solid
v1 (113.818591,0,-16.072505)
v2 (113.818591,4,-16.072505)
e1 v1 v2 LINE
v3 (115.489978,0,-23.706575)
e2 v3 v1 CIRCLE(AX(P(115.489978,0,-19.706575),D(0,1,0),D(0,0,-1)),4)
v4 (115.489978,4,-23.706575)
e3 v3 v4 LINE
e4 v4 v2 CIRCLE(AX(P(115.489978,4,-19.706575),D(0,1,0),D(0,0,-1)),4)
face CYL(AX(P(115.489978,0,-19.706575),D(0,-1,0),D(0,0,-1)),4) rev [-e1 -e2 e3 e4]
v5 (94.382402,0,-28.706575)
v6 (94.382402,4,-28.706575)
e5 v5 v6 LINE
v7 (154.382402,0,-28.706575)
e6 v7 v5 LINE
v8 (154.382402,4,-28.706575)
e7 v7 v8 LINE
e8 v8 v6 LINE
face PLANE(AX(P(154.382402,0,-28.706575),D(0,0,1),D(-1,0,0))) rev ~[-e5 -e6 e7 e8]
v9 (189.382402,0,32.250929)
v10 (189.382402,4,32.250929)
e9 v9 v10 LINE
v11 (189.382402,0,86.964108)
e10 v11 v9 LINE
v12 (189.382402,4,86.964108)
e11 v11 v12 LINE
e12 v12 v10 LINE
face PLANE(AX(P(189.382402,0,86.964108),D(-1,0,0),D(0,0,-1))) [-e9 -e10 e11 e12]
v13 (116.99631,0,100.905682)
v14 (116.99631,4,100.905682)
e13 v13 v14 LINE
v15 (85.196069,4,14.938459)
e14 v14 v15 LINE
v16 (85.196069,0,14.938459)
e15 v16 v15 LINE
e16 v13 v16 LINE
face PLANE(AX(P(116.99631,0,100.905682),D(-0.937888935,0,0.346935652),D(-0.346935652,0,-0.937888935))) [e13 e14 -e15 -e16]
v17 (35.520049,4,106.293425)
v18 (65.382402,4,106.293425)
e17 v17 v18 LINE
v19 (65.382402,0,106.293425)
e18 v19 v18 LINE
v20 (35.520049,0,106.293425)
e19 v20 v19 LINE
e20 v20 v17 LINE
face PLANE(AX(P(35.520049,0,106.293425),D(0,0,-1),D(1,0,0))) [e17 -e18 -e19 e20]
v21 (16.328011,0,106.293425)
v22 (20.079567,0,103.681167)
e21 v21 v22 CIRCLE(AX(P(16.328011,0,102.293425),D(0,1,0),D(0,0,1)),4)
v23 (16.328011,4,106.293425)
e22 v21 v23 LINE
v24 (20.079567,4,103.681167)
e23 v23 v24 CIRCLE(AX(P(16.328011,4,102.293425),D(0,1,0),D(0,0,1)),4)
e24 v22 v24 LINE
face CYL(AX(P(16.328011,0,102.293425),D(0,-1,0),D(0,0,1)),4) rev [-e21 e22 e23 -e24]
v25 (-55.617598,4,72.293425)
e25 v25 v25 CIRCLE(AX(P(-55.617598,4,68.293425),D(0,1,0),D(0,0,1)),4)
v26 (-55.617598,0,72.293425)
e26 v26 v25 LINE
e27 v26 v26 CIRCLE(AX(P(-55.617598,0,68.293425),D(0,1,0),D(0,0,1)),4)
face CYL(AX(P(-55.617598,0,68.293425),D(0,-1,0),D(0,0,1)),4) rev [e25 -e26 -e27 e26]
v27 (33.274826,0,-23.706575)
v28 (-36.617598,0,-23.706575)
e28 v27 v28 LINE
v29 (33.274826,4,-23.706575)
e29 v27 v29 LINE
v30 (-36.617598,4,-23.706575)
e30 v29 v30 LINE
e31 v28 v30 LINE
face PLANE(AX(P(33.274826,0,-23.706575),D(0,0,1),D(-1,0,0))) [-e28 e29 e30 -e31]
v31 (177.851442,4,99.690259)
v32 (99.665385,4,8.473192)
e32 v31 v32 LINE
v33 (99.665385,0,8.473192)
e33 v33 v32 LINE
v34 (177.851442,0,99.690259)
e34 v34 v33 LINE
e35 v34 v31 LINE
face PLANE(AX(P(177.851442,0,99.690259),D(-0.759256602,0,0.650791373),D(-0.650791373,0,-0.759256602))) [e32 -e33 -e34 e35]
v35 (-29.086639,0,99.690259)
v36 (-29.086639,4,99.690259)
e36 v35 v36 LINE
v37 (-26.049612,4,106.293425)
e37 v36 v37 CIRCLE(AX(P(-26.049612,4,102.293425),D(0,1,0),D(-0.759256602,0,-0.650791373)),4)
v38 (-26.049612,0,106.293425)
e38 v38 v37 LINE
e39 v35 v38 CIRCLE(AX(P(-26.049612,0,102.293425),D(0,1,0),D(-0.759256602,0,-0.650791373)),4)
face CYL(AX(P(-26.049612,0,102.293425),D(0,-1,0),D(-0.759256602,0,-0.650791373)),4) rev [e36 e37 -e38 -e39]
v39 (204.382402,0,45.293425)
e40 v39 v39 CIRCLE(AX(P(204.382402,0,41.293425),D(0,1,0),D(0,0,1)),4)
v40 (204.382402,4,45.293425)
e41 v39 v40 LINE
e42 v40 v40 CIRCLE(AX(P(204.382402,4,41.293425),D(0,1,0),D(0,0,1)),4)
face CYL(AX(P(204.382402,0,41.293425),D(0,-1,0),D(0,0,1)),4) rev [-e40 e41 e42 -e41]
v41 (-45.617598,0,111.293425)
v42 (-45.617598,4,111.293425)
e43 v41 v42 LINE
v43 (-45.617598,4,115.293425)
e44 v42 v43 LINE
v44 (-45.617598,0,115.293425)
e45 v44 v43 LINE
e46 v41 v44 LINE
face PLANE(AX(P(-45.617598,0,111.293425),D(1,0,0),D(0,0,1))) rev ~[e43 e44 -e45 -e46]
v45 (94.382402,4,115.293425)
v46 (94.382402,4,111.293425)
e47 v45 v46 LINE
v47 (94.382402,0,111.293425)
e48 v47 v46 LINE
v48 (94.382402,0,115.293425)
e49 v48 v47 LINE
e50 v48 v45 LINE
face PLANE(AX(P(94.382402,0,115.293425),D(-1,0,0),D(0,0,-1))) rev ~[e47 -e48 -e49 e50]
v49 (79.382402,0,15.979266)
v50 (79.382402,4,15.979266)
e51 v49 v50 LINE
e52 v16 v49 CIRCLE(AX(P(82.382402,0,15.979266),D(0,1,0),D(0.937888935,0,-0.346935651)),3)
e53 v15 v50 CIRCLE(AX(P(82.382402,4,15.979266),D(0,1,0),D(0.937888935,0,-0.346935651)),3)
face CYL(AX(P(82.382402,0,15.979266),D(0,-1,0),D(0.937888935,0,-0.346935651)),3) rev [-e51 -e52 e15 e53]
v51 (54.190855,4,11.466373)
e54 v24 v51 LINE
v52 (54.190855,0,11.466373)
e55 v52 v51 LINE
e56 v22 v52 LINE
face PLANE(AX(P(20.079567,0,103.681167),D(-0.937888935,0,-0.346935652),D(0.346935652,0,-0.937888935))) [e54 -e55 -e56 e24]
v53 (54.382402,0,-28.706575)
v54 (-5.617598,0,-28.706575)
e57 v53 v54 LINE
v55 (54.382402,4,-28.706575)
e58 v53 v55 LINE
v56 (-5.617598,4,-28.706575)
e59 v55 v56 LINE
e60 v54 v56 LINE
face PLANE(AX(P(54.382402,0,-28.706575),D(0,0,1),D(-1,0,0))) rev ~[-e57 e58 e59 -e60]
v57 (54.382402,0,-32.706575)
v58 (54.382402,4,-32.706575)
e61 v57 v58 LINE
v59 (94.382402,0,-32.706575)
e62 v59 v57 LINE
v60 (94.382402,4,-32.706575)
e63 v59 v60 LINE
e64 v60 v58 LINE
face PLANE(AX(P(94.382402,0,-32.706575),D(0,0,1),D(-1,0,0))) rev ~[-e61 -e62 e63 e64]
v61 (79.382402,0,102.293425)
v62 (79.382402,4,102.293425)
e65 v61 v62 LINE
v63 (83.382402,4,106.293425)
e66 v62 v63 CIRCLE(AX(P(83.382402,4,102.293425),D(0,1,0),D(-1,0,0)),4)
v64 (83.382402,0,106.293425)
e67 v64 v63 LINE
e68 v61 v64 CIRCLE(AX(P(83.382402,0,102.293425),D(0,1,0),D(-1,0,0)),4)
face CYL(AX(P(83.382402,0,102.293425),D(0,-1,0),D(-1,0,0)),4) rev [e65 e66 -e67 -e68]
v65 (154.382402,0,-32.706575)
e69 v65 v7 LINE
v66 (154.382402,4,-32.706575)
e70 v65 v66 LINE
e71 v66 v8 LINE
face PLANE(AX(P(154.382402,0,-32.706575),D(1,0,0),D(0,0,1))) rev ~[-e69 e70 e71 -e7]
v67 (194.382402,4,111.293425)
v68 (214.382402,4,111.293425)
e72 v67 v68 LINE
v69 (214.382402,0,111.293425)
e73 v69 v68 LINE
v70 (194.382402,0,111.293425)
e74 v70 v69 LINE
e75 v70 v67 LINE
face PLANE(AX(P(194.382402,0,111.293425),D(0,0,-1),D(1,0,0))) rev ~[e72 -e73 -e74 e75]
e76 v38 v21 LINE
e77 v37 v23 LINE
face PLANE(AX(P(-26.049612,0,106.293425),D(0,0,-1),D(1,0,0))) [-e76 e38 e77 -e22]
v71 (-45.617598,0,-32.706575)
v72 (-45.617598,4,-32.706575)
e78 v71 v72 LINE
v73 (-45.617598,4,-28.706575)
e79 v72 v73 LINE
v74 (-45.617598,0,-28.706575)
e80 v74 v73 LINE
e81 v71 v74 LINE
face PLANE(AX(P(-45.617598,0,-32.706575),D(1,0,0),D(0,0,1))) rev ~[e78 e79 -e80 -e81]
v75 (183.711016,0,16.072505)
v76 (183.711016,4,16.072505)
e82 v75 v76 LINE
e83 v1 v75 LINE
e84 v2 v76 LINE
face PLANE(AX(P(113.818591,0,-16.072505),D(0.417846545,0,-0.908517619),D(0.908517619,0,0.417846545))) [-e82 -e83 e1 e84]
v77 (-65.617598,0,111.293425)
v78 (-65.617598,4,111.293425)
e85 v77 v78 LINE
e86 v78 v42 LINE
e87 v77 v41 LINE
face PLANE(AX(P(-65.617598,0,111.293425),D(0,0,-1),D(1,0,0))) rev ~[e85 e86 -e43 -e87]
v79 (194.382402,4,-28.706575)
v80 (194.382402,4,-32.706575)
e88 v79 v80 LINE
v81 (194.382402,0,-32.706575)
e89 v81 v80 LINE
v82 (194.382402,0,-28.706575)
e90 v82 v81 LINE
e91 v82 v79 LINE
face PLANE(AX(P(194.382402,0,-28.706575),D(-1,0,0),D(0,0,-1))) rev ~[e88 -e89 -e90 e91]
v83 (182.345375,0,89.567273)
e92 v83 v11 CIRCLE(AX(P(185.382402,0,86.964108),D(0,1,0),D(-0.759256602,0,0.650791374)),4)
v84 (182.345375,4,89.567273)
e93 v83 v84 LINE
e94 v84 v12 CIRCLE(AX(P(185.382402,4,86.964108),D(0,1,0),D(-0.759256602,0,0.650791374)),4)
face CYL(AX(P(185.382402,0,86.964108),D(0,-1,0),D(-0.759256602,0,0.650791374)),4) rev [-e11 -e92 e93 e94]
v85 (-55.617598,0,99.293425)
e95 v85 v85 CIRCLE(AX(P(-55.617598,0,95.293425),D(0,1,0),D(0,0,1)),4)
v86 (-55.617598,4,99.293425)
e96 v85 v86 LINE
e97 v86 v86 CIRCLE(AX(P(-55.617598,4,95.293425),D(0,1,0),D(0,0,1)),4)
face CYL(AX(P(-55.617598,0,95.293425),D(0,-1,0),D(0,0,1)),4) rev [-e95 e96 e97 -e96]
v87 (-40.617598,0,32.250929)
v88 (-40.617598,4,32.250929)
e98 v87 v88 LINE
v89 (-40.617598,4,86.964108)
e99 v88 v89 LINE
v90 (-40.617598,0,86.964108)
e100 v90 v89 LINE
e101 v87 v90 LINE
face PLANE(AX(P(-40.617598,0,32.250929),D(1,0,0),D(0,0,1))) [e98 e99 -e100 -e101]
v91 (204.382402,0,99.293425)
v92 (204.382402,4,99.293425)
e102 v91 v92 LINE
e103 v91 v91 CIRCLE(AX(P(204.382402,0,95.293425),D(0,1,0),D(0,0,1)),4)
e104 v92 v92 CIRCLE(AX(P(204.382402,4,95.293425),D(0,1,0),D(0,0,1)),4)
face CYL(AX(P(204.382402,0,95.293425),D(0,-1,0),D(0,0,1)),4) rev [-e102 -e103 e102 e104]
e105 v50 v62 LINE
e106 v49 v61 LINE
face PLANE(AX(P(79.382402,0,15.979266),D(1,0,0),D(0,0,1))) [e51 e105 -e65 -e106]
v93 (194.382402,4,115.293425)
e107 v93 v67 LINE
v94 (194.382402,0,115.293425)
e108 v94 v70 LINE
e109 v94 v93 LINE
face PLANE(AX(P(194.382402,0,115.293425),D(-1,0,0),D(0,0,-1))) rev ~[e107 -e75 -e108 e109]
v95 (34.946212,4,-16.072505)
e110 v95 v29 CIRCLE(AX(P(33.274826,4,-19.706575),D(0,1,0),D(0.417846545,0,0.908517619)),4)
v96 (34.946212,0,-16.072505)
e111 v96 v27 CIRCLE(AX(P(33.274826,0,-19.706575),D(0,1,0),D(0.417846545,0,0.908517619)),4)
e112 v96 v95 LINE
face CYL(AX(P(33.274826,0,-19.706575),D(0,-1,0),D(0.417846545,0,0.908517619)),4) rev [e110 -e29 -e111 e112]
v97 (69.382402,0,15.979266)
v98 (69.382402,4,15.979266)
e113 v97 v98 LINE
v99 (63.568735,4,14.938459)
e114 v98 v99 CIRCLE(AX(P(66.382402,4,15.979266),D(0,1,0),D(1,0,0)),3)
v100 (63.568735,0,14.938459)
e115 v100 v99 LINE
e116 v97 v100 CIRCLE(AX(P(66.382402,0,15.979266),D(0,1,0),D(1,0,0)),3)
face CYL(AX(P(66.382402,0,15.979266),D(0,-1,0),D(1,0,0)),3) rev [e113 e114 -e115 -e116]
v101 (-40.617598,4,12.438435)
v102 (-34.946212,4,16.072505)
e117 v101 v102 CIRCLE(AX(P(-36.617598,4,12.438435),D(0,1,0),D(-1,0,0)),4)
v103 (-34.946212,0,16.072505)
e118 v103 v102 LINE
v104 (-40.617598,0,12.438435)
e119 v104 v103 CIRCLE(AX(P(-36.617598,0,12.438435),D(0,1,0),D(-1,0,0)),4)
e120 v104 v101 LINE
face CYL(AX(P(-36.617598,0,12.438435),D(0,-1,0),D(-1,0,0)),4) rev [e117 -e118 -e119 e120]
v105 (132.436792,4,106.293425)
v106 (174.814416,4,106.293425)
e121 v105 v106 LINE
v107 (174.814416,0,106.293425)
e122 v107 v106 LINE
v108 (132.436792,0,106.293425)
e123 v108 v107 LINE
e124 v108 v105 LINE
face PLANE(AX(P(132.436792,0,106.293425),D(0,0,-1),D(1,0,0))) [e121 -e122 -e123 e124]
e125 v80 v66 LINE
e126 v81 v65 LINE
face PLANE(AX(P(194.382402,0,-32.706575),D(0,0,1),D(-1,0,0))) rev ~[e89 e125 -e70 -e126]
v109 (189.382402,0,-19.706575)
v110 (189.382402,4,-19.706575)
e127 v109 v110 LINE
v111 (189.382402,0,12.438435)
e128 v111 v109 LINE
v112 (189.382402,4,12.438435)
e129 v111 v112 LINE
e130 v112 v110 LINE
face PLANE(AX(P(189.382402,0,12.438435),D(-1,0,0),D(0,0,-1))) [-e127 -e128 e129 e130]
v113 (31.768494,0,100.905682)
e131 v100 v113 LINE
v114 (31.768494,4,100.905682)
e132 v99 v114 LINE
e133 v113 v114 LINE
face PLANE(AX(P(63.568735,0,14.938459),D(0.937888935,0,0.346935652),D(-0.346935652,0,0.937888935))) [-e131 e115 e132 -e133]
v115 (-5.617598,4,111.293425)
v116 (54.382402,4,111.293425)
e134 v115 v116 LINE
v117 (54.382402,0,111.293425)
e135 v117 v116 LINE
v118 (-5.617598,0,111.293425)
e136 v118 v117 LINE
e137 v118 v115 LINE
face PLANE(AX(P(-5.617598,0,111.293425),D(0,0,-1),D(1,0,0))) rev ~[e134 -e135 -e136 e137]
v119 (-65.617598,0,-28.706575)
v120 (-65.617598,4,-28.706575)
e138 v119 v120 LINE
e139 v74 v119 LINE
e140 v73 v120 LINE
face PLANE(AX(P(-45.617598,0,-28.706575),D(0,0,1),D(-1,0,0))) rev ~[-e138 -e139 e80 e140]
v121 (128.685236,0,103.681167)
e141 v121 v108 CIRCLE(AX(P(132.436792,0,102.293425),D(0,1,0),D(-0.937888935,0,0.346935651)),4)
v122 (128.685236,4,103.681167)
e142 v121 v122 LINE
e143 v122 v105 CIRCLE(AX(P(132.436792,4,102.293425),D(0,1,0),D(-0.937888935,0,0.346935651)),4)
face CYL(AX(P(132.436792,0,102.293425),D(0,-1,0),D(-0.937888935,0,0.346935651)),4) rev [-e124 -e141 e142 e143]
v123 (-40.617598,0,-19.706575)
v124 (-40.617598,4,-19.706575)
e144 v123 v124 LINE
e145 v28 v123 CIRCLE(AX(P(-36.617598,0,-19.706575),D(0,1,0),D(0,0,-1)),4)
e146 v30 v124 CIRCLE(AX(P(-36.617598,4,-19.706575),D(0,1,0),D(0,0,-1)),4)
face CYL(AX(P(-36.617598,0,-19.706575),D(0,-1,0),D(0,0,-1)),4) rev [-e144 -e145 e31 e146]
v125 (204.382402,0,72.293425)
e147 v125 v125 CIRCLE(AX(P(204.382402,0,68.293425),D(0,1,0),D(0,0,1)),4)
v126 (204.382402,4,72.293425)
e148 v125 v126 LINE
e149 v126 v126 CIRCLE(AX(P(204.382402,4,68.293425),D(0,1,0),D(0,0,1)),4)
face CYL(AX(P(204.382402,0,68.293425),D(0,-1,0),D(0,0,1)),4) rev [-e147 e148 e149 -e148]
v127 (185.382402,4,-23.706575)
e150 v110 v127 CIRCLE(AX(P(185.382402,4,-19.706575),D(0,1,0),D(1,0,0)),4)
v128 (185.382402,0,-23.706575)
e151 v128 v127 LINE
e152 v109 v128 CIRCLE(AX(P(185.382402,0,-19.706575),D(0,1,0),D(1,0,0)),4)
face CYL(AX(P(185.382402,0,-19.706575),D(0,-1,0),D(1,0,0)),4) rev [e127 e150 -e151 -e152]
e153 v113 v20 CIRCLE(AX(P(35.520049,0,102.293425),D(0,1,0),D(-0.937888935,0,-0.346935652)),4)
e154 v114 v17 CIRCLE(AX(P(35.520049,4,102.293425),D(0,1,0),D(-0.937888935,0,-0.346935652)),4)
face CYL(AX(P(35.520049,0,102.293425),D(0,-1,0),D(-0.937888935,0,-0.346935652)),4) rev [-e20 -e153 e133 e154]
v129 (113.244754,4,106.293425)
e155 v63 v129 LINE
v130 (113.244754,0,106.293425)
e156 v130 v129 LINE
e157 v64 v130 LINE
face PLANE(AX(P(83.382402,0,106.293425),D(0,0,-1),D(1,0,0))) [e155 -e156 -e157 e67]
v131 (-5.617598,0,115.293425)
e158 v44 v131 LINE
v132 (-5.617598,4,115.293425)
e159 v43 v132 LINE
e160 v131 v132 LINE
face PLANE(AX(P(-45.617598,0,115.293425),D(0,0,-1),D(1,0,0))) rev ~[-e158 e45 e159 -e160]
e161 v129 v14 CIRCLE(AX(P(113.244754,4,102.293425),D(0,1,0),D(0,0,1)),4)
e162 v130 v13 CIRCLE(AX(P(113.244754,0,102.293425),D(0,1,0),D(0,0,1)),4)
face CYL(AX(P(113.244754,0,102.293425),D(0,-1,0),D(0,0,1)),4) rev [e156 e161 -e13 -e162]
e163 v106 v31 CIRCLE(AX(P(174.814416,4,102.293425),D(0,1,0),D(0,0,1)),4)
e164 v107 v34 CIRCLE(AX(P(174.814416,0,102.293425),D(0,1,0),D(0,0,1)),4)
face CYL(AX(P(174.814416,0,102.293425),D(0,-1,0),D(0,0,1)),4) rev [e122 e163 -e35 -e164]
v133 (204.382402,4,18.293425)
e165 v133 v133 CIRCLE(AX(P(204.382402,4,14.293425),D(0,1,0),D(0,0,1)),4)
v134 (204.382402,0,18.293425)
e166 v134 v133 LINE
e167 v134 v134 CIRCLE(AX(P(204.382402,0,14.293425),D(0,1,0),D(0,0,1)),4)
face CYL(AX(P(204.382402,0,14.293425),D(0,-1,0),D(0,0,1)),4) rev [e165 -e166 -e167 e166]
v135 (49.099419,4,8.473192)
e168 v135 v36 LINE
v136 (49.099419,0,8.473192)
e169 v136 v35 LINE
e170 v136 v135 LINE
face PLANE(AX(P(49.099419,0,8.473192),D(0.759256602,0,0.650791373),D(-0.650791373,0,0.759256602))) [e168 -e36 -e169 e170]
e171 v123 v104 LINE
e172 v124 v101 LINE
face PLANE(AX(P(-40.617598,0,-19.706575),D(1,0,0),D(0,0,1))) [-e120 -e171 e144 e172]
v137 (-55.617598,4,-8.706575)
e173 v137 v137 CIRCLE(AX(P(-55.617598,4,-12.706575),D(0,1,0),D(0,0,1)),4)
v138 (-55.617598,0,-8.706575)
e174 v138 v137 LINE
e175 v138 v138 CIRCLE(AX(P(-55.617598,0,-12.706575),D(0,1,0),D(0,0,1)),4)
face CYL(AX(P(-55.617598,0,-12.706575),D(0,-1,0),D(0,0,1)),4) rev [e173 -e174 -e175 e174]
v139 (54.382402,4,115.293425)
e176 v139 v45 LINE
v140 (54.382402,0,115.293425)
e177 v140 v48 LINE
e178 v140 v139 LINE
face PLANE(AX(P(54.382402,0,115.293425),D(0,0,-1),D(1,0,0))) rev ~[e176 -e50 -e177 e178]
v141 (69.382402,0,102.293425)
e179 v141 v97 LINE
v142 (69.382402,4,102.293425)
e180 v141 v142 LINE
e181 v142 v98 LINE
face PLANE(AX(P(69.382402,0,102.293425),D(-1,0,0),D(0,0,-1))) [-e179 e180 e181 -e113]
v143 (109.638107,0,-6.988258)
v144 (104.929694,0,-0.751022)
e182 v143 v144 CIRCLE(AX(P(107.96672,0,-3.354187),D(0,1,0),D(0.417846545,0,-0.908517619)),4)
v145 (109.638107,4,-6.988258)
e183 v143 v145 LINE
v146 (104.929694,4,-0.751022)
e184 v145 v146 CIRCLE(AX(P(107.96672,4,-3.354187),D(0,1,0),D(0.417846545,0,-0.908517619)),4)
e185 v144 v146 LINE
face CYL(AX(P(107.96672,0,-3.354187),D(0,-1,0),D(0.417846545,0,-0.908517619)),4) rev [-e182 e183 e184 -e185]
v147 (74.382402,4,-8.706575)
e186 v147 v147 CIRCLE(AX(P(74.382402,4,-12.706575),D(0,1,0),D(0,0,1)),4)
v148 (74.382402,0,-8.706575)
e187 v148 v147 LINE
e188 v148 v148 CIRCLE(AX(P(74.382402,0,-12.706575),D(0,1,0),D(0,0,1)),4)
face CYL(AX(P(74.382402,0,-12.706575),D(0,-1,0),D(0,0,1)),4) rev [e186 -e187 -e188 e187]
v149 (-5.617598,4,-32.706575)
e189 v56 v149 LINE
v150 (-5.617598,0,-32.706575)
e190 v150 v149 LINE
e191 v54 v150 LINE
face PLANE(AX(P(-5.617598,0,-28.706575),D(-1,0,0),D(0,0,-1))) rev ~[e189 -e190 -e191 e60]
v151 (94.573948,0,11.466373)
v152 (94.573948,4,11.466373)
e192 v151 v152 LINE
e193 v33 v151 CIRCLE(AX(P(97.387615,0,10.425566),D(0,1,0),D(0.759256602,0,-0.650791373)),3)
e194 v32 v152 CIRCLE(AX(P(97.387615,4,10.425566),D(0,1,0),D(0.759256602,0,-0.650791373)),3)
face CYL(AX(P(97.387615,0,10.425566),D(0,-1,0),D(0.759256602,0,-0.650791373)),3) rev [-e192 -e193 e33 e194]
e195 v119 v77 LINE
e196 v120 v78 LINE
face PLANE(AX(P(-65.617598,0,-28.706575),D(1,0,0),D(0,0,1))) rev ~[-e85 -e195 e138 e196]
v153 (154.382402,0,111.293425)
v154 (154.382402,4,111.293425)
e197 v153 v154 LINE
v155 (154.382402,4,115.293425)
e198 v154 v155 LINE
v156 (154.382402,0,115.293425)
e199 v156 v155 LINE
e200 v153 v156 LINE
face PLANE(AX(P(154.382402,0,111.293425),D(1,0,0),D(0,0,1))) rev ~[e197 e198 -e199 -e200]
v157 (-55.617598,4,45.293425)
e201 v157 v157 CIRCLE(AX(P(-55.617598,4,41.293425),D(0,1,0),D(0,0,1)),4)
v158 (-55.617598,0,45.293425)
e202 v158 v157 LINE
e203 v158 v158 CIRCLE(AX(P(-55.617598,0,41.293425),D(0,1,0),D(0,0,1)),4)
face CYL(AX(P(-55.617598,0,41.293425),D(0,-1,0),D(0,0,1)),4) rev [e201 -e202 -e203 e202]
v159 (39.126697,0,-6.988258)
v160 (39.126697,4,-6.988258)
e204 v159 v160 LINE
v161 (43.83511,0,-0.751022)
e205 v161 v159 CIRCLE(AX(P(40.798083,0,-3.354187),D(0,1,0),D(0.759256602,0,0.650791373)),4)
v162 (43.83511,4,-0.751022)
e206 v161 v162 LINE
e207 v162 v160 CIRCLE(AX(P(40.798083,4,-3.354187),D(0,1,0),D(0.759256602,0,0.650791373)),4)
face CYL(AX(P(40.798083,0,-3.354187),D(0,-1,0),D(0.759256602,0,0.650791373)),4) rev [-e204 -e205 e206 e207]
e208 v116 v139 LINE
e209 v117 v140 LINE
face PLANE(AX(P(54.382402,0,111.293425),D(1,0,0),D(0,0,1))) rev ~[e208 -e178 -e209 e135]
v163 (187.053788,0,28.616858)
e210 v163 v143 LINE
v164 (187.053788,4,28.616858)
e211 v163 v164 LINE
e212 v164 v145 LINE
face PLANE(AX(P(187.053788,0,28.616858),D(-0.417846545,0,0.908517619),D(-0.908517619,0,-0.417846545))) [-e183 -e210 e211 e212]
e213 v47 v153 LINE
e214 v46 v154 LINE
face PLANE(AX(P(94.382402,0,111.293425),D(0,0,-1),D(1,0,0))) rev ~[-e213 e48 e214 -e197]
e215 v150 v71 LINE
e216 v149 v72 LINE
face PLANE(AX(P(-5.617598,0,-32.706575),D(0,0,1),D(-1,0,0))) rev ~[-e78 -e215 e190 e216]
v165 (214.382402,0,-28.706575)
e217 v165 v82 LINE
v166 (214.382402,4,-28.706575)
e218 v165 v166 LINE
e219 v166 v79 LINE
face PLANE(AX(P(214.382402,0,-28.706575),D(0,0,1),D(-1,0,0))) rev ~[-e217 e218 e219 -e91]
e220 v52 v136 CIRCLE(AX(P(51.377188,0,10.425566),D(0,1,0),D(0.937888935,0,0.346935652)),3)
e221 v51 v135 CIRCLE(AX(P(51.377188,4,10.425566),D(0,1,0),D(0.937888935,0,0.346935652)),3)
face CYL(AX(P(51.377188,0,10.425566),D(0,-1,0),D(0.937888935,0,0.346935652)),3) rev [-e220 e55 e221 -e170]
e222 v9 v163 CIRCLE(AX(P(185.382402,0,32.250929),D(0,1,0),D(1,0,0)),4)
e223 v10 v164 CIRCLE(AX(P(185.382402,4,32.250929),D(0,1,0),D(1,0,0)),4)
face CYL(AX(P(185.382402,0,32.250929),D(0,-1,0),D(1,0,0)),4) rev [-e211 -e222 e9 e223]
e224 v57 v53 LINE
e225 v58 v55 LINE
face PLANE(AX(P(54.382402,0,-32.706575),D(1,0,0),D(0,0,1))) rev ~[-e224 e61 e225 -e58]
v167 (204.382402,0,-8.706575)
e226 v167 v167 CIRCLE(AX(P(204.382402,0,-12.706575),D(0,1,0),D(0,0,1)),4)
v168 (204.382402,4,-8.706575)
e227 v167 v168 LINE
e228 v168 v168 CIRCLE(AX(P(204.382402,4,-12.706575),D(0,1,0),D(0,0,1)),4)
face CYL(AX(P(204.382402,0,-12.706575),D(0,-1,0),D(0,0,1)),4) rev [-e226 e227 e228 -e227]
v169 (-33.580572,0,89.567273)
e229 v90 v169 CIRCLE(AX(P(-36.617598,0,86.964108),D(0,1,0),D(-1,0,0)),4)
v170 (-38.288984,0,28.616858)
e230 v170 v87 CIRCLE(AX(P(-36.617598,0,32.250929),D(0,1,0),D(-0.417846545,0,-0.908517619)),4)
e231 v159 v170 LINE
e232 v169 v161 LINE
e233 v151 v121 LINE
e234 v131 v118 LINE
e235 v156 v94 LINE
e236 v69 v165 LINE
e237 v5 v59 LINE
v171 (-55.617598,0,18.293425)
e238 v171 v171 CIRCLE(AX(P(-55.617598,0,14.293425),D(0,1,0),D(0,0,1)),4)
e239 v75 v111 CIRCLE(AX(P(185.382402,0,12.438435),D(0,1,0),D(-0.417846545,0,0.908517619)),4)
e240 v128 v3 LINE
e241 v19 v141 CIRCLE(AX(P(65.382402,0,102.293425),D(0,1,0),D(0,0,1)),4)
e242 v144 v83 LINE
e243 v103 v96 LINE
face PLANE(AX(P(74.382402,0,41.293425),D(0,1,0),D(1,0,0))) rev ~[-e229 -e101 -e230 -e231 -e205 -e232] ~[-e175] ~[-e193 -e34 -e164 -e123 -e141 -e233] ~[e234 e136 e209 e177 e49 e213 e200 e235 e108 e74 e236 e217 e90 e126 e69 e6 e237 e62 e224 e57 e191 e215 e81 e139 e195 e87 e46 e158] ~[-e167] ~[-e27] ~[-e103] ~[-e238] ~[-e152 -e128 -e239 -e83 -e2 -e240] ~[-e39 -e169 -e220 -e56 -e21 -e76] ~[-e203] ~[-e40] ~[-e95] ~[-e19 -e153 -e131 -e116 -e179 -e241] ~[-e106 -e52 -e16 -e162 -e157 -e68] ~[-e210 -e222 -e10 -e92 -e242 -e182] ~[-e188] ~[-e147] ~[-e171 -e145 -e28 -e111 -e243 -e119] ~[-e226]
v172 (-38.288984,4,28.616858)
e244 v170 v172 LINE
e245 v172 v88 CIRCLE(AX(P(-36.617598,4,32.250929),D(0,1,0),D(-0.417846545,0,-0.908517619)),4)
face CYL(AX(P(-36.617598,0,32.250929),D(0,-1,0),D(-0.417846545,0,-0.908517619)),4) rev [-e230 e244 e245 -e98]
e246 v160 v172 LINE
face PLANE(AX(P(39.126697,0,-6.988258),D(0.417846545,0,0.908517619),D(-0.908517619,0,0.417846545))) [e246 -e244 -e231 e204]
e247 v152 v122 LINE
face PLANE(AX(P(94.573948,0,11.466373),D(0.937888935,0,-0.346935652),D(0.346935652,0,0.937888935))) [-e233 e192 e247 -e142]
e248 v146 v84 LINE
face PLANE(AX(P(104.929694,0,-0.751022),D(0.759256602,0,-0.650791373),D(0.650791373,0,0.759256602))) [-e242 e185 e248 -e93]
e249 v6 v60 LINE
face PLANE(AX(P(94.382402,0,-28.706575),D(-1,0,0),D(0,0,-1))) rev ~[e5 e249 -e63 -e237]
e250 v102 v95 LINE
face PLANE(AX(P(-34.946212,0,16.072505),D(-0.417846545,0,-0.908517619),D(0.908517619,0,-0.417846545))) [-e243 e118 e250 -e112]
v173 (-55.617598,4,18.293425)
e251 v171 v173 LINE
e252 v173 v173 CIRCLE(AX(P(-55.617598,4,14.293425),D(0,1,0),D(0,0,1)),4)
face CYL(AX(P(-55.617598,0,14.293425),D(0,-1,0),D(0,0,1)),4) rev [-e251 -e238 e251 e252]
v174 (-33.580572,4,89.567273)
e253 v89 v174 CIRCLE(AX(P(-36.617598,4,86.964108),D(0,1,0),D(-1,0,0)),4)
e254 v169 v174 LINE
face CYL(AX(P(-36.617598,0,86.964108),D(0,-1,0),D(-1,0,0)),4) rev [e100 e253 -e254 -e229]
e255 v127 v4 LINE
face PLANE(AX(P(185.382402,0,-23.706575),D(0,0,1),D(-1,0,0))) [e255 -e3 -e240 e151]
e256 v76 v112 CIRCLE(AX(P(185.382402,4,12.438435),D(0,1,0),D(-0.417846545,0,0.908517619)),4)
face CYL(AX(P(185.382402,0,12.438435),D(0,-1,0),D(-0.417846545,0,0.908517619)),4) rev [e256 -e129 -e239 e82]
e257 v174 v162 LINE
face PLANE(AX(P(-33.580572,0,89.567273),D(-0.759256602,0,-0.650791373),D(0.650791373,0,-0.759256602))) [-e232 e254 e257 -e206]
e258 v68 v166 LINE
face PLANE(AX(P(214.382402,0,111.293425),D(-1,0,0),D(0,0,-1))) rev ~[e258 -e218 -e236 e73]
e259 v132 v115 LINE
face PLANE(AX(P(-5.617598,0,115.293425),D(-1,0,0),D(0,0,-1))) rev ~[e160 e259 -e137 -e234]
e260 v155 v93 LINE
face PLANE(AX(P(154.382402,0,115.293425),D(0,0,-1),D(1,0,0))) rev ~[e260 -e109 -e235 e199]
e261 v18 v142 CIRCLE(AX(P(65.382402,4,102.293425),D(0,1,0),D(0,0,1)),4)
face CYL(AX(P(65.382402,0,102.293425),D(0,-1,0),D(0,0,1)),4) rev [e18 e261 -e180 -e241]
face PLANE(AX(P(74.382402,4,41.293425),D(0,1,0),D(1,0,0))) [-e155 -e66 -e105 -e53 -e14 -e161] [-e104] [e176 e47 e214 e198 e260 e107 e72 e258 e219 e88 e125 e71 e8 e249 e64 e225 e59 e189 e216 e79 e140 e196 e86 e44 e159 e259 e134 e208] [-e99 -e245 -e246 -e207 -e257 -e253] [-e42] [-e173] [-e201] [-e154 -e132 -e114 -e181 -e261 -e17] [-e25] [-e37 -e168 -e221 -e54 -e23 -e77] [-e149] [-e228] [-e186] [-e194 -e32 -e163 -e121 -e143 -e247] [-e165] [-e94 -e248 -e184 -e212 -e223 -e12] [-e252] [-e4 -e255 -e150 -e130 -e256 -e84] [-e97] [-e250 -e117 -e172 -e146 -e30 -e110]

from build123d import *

# Parameters (mm, degrees)
SKETCH2_R           = 4
BOSS_EXTRUDE1_DEPTH = 4


with BuildPart() as part:
    # Sketch2 → Boss-Extrude1 (new body)
    with BuildSketch(Plane(origin=(0, 0, 0), x_dir=(1, 0, 0), z_dir=(0, 1, 0))):
        Polygon((-65.617598228, 28.706575469), (-65.617598228, -111.293424531), (-45.617598228, -111.293424531), (-45.617598228, -115.293424531), (-5.617598228, -115.293424531), (-5.617598228, -111.293424531), (54.382401772, -111.293424531), (54.382401772, -115.293424531), (94.382401772, -115.293424531), (94.382401772, -111.293424531), (154.382401772, -111.293424531), (154.382401772, -115.293424531), (194.382401772, -115.293424531), (194.382401772, -111.293424531), (214.382401772, -111.293424531), (214.382401772, 28.706575469), (194.382401772, 28.706575469), (194.382401772, 32.706575469), (154.382401772, 32.706575469), (154.382401772, 28.706575469), (94.382401772, 28.706575469), (94.382401772, 32.706575469), (54.382401772, 32.706575469), (54.382401772, 28.706575469), (-5.617598228, 28.706575469), (-5.617598228, 32.706575469), (-45.617598228, 32.706575469), (-45.617598228, 28.706575469), align=None)
        with Locations(Location((-55.617598228, 12.706575469, 0), (0, 0, 270))):
            Circle(SKETCH2_R, mode=Mode.SUBTRACT)
        with Locations(Location((-55.617598228, -14.293424531, 0), (0, 0, 270))):
            Circle(SKETCH2_R, mode=Mode.SUBTRACT)
        with Locations(Location((-55.617598228, -41.293424531, 0), (0, 0, 270))):
            Circle(SKETCH2_R, mode=Mode.SUBTRACT)
        with Locations(Location((-55.617598228, -68.293424531, 0), (0, 0, 270))):
            Circle(SKETCH2_R, mode=Mode.SUBTRACT)
        with Locations(Location((-55.617598228, -95.293424531, 0), (0, 0, 270))):
            Circle(SKETCH2_R, mode=Mode.SUBTRACT)
        with Locations(Location((204.382401772, -95.293424531, 0), (0, 0, 270))):
            Circle(SKETCH2_R, mode=Mode.SUBTRACT)
        with Locations(Location((204.382401772, -68.293424531, 0), (0, 0, 270))):
            Circle(SKETCH2_R, mode=Mode.SUBTRACT)
        with Locations(Location((204.382401772, -41.293424531, 0), (0, 0, 270))):
            Circle(SKETCH2_R, mode=Mode.SUBTRACT)
        with Locations(Location((204.382401772, -14.293424531, 0), (0, 0, 270))):
            Circle(SKETCH2_R, mode=Mode.SUBTRACT)
        with Locations(Location((204.382401772, 12.706575469, 0), (0, 0, 270))):
            Circle(SKETCH2_R, mode=Mode.SUBTRACT)
        with Locations(Location((74.382401772, 12.706575469, 0), (0, 0, 270))):
            Circle(SKETCH2_R, mode=Mode.SUBTRACT)
        with BuildLine():
            Line((39.126697, 6.98825761), (-38.288984409, -28.616858167))
            ThreePointArc((-38.288984409, -28.616858167), (-39.985501487, -30.092867561), (-40.617598228, -32.250928644))
            Line((-40.617598228, -32.250928644), (-40.617598228, -86.964107845))
            ThreePointArc((-40.617598228, -86.964107845), (-38.005383219, -90.715647904), (-33.580571819, -89.567273339))
            Line((-33.580571819, -89.567273339), (43.835109591, 0.751021639))
            ThreePointArc((43.835109591, 0.751021639), (43.990577731, 5.764161935), (39.126697, 6.98825761))
        make_face(mode=Mode.SUBTRACT)
        with BuildLine():
            Line((-40.617598228, 19.706575469), (-40.617598228, -12.438434514))
            ThreePointArc((-40.617598228, -12.438434514), (-38.775659311, -15.806337773), (-34.946212047, -16.072504992))
            Line((-34.946212047, -16.072504992), (34.946212047, 16.072504992))
            ThreePointArc((34.946212047, 16.072504992), (37.182272725, 20.562063076), (33.274825866, 23.706575469))
            Line((33.274825866, 23.706575469), (-36.617598228, 23.706575469))
            ThreePointArc((-36.617598228, 23.706575469), (-39.446025353, 22.535002594), (-40.617598228, 19.706575469))
        make_face(mode=Mode.SUBTRACT)
        with BuildLine():
            Line((-26.049612497, -106.293424531), (16.328011378, -106.293424531))
            ThreePointArc((16.328011378, -106.293424531), (18.613731131, -105.576027951), (20.079567117, -103.681167137))
            Line((20.079567117, -103.681167137), (54.190855271, -11.46637295))
            ThreePointArc((54.190855271, -11.46637295), (52.897576456, -7.839367943), (49.099418661, -8.473191875))
            Line((49.099418661, -8.473191875), (-29.086638907, -99.690259037))
            ThreePointArc((-29.086638907, -99.690259037), (-29.683664091, -103.964851769), (-26.049612497, -106.293424531))
        make_face(mode=Mode.SUBTRACT)
        with BuildLine():
            Line((79.382401772, -15.979265858), (79.382401772, -102.293424531))
            ThreePointArc((79.382401772, -102.293424531), (80.553974647, -105.121851656), (83.382401772, -106.293424531))
            Line((83.382401772, -106.293424531), (113.244754244, -106.293424531))
            ThreePointArc((113.244754244, -106.293424531), (116.527357664, -104.579144283), (116.996309982, -100.905681925))
            Line((116.996309982, -100.905681925), (85.196068576, -14.938458903))
            ThreePointArc((85.196068576, -14.938458903), (81.853724371, -13.026216551), (79.382401772, -15.979265858))
        make_face(mode=Mode.SUBTRACT)
        with BuildLine():
            Line((35.5200493, -106.293424531), (65.382401772, -106.293424531))
            ThreePointArc((65.382401772, -106.293424531), (68.210828897, -105.121851656), (69.382401772, -102.293424531))
            Line((69.382401772, -102.293424531), (69.382401772, -15.979265858))
            ThreePointArc((69.382401772, -15.979265858), (66.911079173, -13.026216551), (63.568734968, -14.938458903))
            Line((63.568734968, -14.938458903), (31.768493562, -100.905681925))
            ThreePointArc((31.768493562, -100.905681925), (32.23744588, -104.579144283), (35.5200493, -106.293424531))
        make_face(mode=Mode.SUBTRACT)
        with BuildLine():
            Line((187.053787953, -28.616858167), (109.638106544, 6.98825761))
            ThreePointArc((109.638106544, 6.98825761), (104.774225813, 5.764161935), (104.929693953, 0.751021639))
            Line((104.929693953, 0.751021639), (182.345375363, -89.567273339))
            ThreePointArc((182.345375363, -89.567273339), (186.770186763, -90.715647904), (189.382401772, -86.964107845))
            Line((189.382401772, -86.964107845), (189.382401772, -32.250928644))
            ThreePointArc((189.382401772, -32.250928644), (188.750305031, -30.092867561), (187.053787953, -28.616858167))
        make_face(mode=Mode.SUBTRACT)
        with BuildLine():
            Line((185.382401772, 23.706575469), (115.489977678, 23.706575469))
            ThreePointArc((115.489977678, 23.706575469), (111.582530819, 20.562063076), (113.818591497, 16.072504992))
            Line((113.818591497, 16.072504992), (183.711015591, -16.072504992))
            ThreePointArc((183.711015591, -16.072504992), (187.540462855, -15.806337773), (189.382401772, -12.438434514))
            Line((189.382401772, -12.438434514), (189.382401772, 19.706575469))
            ThreePointArc((189.382401772, 19.706575469), (188.210828897, 22.535002594), (185.382401772, 23.706575469))
        make_face(mode=Mode.SUBTRACT)
        with BuildLine():
            Line((94.573948273, -11.46637295), (128.685236427, -103.681167137))
            ThreePointArc((128.685236427, -103.681167137), (130.151072413, -105.576027951), (132.436792166, -106.293424531))
            Line((132.436792166, -106.293424531), (174.814416041, -106.293424531))
            ThreePointArc((174.814416041, -106.293424531), (178.448467635, -103.964851769), (177.851442451, -99.690259037))
            Line((177.851442451, -99.690259037), (99.665384883, -8.473191875))
            ThreePointArc((99.665384883, -8.473191875), (95.867227088, -7.839367943), (94.573948273, -11.46637295))
        make_face(mode=Mode.SUBTRACT)
    extrude(amount=BOSS_EXTRUDE1_DEPTH)


solid = part.part
